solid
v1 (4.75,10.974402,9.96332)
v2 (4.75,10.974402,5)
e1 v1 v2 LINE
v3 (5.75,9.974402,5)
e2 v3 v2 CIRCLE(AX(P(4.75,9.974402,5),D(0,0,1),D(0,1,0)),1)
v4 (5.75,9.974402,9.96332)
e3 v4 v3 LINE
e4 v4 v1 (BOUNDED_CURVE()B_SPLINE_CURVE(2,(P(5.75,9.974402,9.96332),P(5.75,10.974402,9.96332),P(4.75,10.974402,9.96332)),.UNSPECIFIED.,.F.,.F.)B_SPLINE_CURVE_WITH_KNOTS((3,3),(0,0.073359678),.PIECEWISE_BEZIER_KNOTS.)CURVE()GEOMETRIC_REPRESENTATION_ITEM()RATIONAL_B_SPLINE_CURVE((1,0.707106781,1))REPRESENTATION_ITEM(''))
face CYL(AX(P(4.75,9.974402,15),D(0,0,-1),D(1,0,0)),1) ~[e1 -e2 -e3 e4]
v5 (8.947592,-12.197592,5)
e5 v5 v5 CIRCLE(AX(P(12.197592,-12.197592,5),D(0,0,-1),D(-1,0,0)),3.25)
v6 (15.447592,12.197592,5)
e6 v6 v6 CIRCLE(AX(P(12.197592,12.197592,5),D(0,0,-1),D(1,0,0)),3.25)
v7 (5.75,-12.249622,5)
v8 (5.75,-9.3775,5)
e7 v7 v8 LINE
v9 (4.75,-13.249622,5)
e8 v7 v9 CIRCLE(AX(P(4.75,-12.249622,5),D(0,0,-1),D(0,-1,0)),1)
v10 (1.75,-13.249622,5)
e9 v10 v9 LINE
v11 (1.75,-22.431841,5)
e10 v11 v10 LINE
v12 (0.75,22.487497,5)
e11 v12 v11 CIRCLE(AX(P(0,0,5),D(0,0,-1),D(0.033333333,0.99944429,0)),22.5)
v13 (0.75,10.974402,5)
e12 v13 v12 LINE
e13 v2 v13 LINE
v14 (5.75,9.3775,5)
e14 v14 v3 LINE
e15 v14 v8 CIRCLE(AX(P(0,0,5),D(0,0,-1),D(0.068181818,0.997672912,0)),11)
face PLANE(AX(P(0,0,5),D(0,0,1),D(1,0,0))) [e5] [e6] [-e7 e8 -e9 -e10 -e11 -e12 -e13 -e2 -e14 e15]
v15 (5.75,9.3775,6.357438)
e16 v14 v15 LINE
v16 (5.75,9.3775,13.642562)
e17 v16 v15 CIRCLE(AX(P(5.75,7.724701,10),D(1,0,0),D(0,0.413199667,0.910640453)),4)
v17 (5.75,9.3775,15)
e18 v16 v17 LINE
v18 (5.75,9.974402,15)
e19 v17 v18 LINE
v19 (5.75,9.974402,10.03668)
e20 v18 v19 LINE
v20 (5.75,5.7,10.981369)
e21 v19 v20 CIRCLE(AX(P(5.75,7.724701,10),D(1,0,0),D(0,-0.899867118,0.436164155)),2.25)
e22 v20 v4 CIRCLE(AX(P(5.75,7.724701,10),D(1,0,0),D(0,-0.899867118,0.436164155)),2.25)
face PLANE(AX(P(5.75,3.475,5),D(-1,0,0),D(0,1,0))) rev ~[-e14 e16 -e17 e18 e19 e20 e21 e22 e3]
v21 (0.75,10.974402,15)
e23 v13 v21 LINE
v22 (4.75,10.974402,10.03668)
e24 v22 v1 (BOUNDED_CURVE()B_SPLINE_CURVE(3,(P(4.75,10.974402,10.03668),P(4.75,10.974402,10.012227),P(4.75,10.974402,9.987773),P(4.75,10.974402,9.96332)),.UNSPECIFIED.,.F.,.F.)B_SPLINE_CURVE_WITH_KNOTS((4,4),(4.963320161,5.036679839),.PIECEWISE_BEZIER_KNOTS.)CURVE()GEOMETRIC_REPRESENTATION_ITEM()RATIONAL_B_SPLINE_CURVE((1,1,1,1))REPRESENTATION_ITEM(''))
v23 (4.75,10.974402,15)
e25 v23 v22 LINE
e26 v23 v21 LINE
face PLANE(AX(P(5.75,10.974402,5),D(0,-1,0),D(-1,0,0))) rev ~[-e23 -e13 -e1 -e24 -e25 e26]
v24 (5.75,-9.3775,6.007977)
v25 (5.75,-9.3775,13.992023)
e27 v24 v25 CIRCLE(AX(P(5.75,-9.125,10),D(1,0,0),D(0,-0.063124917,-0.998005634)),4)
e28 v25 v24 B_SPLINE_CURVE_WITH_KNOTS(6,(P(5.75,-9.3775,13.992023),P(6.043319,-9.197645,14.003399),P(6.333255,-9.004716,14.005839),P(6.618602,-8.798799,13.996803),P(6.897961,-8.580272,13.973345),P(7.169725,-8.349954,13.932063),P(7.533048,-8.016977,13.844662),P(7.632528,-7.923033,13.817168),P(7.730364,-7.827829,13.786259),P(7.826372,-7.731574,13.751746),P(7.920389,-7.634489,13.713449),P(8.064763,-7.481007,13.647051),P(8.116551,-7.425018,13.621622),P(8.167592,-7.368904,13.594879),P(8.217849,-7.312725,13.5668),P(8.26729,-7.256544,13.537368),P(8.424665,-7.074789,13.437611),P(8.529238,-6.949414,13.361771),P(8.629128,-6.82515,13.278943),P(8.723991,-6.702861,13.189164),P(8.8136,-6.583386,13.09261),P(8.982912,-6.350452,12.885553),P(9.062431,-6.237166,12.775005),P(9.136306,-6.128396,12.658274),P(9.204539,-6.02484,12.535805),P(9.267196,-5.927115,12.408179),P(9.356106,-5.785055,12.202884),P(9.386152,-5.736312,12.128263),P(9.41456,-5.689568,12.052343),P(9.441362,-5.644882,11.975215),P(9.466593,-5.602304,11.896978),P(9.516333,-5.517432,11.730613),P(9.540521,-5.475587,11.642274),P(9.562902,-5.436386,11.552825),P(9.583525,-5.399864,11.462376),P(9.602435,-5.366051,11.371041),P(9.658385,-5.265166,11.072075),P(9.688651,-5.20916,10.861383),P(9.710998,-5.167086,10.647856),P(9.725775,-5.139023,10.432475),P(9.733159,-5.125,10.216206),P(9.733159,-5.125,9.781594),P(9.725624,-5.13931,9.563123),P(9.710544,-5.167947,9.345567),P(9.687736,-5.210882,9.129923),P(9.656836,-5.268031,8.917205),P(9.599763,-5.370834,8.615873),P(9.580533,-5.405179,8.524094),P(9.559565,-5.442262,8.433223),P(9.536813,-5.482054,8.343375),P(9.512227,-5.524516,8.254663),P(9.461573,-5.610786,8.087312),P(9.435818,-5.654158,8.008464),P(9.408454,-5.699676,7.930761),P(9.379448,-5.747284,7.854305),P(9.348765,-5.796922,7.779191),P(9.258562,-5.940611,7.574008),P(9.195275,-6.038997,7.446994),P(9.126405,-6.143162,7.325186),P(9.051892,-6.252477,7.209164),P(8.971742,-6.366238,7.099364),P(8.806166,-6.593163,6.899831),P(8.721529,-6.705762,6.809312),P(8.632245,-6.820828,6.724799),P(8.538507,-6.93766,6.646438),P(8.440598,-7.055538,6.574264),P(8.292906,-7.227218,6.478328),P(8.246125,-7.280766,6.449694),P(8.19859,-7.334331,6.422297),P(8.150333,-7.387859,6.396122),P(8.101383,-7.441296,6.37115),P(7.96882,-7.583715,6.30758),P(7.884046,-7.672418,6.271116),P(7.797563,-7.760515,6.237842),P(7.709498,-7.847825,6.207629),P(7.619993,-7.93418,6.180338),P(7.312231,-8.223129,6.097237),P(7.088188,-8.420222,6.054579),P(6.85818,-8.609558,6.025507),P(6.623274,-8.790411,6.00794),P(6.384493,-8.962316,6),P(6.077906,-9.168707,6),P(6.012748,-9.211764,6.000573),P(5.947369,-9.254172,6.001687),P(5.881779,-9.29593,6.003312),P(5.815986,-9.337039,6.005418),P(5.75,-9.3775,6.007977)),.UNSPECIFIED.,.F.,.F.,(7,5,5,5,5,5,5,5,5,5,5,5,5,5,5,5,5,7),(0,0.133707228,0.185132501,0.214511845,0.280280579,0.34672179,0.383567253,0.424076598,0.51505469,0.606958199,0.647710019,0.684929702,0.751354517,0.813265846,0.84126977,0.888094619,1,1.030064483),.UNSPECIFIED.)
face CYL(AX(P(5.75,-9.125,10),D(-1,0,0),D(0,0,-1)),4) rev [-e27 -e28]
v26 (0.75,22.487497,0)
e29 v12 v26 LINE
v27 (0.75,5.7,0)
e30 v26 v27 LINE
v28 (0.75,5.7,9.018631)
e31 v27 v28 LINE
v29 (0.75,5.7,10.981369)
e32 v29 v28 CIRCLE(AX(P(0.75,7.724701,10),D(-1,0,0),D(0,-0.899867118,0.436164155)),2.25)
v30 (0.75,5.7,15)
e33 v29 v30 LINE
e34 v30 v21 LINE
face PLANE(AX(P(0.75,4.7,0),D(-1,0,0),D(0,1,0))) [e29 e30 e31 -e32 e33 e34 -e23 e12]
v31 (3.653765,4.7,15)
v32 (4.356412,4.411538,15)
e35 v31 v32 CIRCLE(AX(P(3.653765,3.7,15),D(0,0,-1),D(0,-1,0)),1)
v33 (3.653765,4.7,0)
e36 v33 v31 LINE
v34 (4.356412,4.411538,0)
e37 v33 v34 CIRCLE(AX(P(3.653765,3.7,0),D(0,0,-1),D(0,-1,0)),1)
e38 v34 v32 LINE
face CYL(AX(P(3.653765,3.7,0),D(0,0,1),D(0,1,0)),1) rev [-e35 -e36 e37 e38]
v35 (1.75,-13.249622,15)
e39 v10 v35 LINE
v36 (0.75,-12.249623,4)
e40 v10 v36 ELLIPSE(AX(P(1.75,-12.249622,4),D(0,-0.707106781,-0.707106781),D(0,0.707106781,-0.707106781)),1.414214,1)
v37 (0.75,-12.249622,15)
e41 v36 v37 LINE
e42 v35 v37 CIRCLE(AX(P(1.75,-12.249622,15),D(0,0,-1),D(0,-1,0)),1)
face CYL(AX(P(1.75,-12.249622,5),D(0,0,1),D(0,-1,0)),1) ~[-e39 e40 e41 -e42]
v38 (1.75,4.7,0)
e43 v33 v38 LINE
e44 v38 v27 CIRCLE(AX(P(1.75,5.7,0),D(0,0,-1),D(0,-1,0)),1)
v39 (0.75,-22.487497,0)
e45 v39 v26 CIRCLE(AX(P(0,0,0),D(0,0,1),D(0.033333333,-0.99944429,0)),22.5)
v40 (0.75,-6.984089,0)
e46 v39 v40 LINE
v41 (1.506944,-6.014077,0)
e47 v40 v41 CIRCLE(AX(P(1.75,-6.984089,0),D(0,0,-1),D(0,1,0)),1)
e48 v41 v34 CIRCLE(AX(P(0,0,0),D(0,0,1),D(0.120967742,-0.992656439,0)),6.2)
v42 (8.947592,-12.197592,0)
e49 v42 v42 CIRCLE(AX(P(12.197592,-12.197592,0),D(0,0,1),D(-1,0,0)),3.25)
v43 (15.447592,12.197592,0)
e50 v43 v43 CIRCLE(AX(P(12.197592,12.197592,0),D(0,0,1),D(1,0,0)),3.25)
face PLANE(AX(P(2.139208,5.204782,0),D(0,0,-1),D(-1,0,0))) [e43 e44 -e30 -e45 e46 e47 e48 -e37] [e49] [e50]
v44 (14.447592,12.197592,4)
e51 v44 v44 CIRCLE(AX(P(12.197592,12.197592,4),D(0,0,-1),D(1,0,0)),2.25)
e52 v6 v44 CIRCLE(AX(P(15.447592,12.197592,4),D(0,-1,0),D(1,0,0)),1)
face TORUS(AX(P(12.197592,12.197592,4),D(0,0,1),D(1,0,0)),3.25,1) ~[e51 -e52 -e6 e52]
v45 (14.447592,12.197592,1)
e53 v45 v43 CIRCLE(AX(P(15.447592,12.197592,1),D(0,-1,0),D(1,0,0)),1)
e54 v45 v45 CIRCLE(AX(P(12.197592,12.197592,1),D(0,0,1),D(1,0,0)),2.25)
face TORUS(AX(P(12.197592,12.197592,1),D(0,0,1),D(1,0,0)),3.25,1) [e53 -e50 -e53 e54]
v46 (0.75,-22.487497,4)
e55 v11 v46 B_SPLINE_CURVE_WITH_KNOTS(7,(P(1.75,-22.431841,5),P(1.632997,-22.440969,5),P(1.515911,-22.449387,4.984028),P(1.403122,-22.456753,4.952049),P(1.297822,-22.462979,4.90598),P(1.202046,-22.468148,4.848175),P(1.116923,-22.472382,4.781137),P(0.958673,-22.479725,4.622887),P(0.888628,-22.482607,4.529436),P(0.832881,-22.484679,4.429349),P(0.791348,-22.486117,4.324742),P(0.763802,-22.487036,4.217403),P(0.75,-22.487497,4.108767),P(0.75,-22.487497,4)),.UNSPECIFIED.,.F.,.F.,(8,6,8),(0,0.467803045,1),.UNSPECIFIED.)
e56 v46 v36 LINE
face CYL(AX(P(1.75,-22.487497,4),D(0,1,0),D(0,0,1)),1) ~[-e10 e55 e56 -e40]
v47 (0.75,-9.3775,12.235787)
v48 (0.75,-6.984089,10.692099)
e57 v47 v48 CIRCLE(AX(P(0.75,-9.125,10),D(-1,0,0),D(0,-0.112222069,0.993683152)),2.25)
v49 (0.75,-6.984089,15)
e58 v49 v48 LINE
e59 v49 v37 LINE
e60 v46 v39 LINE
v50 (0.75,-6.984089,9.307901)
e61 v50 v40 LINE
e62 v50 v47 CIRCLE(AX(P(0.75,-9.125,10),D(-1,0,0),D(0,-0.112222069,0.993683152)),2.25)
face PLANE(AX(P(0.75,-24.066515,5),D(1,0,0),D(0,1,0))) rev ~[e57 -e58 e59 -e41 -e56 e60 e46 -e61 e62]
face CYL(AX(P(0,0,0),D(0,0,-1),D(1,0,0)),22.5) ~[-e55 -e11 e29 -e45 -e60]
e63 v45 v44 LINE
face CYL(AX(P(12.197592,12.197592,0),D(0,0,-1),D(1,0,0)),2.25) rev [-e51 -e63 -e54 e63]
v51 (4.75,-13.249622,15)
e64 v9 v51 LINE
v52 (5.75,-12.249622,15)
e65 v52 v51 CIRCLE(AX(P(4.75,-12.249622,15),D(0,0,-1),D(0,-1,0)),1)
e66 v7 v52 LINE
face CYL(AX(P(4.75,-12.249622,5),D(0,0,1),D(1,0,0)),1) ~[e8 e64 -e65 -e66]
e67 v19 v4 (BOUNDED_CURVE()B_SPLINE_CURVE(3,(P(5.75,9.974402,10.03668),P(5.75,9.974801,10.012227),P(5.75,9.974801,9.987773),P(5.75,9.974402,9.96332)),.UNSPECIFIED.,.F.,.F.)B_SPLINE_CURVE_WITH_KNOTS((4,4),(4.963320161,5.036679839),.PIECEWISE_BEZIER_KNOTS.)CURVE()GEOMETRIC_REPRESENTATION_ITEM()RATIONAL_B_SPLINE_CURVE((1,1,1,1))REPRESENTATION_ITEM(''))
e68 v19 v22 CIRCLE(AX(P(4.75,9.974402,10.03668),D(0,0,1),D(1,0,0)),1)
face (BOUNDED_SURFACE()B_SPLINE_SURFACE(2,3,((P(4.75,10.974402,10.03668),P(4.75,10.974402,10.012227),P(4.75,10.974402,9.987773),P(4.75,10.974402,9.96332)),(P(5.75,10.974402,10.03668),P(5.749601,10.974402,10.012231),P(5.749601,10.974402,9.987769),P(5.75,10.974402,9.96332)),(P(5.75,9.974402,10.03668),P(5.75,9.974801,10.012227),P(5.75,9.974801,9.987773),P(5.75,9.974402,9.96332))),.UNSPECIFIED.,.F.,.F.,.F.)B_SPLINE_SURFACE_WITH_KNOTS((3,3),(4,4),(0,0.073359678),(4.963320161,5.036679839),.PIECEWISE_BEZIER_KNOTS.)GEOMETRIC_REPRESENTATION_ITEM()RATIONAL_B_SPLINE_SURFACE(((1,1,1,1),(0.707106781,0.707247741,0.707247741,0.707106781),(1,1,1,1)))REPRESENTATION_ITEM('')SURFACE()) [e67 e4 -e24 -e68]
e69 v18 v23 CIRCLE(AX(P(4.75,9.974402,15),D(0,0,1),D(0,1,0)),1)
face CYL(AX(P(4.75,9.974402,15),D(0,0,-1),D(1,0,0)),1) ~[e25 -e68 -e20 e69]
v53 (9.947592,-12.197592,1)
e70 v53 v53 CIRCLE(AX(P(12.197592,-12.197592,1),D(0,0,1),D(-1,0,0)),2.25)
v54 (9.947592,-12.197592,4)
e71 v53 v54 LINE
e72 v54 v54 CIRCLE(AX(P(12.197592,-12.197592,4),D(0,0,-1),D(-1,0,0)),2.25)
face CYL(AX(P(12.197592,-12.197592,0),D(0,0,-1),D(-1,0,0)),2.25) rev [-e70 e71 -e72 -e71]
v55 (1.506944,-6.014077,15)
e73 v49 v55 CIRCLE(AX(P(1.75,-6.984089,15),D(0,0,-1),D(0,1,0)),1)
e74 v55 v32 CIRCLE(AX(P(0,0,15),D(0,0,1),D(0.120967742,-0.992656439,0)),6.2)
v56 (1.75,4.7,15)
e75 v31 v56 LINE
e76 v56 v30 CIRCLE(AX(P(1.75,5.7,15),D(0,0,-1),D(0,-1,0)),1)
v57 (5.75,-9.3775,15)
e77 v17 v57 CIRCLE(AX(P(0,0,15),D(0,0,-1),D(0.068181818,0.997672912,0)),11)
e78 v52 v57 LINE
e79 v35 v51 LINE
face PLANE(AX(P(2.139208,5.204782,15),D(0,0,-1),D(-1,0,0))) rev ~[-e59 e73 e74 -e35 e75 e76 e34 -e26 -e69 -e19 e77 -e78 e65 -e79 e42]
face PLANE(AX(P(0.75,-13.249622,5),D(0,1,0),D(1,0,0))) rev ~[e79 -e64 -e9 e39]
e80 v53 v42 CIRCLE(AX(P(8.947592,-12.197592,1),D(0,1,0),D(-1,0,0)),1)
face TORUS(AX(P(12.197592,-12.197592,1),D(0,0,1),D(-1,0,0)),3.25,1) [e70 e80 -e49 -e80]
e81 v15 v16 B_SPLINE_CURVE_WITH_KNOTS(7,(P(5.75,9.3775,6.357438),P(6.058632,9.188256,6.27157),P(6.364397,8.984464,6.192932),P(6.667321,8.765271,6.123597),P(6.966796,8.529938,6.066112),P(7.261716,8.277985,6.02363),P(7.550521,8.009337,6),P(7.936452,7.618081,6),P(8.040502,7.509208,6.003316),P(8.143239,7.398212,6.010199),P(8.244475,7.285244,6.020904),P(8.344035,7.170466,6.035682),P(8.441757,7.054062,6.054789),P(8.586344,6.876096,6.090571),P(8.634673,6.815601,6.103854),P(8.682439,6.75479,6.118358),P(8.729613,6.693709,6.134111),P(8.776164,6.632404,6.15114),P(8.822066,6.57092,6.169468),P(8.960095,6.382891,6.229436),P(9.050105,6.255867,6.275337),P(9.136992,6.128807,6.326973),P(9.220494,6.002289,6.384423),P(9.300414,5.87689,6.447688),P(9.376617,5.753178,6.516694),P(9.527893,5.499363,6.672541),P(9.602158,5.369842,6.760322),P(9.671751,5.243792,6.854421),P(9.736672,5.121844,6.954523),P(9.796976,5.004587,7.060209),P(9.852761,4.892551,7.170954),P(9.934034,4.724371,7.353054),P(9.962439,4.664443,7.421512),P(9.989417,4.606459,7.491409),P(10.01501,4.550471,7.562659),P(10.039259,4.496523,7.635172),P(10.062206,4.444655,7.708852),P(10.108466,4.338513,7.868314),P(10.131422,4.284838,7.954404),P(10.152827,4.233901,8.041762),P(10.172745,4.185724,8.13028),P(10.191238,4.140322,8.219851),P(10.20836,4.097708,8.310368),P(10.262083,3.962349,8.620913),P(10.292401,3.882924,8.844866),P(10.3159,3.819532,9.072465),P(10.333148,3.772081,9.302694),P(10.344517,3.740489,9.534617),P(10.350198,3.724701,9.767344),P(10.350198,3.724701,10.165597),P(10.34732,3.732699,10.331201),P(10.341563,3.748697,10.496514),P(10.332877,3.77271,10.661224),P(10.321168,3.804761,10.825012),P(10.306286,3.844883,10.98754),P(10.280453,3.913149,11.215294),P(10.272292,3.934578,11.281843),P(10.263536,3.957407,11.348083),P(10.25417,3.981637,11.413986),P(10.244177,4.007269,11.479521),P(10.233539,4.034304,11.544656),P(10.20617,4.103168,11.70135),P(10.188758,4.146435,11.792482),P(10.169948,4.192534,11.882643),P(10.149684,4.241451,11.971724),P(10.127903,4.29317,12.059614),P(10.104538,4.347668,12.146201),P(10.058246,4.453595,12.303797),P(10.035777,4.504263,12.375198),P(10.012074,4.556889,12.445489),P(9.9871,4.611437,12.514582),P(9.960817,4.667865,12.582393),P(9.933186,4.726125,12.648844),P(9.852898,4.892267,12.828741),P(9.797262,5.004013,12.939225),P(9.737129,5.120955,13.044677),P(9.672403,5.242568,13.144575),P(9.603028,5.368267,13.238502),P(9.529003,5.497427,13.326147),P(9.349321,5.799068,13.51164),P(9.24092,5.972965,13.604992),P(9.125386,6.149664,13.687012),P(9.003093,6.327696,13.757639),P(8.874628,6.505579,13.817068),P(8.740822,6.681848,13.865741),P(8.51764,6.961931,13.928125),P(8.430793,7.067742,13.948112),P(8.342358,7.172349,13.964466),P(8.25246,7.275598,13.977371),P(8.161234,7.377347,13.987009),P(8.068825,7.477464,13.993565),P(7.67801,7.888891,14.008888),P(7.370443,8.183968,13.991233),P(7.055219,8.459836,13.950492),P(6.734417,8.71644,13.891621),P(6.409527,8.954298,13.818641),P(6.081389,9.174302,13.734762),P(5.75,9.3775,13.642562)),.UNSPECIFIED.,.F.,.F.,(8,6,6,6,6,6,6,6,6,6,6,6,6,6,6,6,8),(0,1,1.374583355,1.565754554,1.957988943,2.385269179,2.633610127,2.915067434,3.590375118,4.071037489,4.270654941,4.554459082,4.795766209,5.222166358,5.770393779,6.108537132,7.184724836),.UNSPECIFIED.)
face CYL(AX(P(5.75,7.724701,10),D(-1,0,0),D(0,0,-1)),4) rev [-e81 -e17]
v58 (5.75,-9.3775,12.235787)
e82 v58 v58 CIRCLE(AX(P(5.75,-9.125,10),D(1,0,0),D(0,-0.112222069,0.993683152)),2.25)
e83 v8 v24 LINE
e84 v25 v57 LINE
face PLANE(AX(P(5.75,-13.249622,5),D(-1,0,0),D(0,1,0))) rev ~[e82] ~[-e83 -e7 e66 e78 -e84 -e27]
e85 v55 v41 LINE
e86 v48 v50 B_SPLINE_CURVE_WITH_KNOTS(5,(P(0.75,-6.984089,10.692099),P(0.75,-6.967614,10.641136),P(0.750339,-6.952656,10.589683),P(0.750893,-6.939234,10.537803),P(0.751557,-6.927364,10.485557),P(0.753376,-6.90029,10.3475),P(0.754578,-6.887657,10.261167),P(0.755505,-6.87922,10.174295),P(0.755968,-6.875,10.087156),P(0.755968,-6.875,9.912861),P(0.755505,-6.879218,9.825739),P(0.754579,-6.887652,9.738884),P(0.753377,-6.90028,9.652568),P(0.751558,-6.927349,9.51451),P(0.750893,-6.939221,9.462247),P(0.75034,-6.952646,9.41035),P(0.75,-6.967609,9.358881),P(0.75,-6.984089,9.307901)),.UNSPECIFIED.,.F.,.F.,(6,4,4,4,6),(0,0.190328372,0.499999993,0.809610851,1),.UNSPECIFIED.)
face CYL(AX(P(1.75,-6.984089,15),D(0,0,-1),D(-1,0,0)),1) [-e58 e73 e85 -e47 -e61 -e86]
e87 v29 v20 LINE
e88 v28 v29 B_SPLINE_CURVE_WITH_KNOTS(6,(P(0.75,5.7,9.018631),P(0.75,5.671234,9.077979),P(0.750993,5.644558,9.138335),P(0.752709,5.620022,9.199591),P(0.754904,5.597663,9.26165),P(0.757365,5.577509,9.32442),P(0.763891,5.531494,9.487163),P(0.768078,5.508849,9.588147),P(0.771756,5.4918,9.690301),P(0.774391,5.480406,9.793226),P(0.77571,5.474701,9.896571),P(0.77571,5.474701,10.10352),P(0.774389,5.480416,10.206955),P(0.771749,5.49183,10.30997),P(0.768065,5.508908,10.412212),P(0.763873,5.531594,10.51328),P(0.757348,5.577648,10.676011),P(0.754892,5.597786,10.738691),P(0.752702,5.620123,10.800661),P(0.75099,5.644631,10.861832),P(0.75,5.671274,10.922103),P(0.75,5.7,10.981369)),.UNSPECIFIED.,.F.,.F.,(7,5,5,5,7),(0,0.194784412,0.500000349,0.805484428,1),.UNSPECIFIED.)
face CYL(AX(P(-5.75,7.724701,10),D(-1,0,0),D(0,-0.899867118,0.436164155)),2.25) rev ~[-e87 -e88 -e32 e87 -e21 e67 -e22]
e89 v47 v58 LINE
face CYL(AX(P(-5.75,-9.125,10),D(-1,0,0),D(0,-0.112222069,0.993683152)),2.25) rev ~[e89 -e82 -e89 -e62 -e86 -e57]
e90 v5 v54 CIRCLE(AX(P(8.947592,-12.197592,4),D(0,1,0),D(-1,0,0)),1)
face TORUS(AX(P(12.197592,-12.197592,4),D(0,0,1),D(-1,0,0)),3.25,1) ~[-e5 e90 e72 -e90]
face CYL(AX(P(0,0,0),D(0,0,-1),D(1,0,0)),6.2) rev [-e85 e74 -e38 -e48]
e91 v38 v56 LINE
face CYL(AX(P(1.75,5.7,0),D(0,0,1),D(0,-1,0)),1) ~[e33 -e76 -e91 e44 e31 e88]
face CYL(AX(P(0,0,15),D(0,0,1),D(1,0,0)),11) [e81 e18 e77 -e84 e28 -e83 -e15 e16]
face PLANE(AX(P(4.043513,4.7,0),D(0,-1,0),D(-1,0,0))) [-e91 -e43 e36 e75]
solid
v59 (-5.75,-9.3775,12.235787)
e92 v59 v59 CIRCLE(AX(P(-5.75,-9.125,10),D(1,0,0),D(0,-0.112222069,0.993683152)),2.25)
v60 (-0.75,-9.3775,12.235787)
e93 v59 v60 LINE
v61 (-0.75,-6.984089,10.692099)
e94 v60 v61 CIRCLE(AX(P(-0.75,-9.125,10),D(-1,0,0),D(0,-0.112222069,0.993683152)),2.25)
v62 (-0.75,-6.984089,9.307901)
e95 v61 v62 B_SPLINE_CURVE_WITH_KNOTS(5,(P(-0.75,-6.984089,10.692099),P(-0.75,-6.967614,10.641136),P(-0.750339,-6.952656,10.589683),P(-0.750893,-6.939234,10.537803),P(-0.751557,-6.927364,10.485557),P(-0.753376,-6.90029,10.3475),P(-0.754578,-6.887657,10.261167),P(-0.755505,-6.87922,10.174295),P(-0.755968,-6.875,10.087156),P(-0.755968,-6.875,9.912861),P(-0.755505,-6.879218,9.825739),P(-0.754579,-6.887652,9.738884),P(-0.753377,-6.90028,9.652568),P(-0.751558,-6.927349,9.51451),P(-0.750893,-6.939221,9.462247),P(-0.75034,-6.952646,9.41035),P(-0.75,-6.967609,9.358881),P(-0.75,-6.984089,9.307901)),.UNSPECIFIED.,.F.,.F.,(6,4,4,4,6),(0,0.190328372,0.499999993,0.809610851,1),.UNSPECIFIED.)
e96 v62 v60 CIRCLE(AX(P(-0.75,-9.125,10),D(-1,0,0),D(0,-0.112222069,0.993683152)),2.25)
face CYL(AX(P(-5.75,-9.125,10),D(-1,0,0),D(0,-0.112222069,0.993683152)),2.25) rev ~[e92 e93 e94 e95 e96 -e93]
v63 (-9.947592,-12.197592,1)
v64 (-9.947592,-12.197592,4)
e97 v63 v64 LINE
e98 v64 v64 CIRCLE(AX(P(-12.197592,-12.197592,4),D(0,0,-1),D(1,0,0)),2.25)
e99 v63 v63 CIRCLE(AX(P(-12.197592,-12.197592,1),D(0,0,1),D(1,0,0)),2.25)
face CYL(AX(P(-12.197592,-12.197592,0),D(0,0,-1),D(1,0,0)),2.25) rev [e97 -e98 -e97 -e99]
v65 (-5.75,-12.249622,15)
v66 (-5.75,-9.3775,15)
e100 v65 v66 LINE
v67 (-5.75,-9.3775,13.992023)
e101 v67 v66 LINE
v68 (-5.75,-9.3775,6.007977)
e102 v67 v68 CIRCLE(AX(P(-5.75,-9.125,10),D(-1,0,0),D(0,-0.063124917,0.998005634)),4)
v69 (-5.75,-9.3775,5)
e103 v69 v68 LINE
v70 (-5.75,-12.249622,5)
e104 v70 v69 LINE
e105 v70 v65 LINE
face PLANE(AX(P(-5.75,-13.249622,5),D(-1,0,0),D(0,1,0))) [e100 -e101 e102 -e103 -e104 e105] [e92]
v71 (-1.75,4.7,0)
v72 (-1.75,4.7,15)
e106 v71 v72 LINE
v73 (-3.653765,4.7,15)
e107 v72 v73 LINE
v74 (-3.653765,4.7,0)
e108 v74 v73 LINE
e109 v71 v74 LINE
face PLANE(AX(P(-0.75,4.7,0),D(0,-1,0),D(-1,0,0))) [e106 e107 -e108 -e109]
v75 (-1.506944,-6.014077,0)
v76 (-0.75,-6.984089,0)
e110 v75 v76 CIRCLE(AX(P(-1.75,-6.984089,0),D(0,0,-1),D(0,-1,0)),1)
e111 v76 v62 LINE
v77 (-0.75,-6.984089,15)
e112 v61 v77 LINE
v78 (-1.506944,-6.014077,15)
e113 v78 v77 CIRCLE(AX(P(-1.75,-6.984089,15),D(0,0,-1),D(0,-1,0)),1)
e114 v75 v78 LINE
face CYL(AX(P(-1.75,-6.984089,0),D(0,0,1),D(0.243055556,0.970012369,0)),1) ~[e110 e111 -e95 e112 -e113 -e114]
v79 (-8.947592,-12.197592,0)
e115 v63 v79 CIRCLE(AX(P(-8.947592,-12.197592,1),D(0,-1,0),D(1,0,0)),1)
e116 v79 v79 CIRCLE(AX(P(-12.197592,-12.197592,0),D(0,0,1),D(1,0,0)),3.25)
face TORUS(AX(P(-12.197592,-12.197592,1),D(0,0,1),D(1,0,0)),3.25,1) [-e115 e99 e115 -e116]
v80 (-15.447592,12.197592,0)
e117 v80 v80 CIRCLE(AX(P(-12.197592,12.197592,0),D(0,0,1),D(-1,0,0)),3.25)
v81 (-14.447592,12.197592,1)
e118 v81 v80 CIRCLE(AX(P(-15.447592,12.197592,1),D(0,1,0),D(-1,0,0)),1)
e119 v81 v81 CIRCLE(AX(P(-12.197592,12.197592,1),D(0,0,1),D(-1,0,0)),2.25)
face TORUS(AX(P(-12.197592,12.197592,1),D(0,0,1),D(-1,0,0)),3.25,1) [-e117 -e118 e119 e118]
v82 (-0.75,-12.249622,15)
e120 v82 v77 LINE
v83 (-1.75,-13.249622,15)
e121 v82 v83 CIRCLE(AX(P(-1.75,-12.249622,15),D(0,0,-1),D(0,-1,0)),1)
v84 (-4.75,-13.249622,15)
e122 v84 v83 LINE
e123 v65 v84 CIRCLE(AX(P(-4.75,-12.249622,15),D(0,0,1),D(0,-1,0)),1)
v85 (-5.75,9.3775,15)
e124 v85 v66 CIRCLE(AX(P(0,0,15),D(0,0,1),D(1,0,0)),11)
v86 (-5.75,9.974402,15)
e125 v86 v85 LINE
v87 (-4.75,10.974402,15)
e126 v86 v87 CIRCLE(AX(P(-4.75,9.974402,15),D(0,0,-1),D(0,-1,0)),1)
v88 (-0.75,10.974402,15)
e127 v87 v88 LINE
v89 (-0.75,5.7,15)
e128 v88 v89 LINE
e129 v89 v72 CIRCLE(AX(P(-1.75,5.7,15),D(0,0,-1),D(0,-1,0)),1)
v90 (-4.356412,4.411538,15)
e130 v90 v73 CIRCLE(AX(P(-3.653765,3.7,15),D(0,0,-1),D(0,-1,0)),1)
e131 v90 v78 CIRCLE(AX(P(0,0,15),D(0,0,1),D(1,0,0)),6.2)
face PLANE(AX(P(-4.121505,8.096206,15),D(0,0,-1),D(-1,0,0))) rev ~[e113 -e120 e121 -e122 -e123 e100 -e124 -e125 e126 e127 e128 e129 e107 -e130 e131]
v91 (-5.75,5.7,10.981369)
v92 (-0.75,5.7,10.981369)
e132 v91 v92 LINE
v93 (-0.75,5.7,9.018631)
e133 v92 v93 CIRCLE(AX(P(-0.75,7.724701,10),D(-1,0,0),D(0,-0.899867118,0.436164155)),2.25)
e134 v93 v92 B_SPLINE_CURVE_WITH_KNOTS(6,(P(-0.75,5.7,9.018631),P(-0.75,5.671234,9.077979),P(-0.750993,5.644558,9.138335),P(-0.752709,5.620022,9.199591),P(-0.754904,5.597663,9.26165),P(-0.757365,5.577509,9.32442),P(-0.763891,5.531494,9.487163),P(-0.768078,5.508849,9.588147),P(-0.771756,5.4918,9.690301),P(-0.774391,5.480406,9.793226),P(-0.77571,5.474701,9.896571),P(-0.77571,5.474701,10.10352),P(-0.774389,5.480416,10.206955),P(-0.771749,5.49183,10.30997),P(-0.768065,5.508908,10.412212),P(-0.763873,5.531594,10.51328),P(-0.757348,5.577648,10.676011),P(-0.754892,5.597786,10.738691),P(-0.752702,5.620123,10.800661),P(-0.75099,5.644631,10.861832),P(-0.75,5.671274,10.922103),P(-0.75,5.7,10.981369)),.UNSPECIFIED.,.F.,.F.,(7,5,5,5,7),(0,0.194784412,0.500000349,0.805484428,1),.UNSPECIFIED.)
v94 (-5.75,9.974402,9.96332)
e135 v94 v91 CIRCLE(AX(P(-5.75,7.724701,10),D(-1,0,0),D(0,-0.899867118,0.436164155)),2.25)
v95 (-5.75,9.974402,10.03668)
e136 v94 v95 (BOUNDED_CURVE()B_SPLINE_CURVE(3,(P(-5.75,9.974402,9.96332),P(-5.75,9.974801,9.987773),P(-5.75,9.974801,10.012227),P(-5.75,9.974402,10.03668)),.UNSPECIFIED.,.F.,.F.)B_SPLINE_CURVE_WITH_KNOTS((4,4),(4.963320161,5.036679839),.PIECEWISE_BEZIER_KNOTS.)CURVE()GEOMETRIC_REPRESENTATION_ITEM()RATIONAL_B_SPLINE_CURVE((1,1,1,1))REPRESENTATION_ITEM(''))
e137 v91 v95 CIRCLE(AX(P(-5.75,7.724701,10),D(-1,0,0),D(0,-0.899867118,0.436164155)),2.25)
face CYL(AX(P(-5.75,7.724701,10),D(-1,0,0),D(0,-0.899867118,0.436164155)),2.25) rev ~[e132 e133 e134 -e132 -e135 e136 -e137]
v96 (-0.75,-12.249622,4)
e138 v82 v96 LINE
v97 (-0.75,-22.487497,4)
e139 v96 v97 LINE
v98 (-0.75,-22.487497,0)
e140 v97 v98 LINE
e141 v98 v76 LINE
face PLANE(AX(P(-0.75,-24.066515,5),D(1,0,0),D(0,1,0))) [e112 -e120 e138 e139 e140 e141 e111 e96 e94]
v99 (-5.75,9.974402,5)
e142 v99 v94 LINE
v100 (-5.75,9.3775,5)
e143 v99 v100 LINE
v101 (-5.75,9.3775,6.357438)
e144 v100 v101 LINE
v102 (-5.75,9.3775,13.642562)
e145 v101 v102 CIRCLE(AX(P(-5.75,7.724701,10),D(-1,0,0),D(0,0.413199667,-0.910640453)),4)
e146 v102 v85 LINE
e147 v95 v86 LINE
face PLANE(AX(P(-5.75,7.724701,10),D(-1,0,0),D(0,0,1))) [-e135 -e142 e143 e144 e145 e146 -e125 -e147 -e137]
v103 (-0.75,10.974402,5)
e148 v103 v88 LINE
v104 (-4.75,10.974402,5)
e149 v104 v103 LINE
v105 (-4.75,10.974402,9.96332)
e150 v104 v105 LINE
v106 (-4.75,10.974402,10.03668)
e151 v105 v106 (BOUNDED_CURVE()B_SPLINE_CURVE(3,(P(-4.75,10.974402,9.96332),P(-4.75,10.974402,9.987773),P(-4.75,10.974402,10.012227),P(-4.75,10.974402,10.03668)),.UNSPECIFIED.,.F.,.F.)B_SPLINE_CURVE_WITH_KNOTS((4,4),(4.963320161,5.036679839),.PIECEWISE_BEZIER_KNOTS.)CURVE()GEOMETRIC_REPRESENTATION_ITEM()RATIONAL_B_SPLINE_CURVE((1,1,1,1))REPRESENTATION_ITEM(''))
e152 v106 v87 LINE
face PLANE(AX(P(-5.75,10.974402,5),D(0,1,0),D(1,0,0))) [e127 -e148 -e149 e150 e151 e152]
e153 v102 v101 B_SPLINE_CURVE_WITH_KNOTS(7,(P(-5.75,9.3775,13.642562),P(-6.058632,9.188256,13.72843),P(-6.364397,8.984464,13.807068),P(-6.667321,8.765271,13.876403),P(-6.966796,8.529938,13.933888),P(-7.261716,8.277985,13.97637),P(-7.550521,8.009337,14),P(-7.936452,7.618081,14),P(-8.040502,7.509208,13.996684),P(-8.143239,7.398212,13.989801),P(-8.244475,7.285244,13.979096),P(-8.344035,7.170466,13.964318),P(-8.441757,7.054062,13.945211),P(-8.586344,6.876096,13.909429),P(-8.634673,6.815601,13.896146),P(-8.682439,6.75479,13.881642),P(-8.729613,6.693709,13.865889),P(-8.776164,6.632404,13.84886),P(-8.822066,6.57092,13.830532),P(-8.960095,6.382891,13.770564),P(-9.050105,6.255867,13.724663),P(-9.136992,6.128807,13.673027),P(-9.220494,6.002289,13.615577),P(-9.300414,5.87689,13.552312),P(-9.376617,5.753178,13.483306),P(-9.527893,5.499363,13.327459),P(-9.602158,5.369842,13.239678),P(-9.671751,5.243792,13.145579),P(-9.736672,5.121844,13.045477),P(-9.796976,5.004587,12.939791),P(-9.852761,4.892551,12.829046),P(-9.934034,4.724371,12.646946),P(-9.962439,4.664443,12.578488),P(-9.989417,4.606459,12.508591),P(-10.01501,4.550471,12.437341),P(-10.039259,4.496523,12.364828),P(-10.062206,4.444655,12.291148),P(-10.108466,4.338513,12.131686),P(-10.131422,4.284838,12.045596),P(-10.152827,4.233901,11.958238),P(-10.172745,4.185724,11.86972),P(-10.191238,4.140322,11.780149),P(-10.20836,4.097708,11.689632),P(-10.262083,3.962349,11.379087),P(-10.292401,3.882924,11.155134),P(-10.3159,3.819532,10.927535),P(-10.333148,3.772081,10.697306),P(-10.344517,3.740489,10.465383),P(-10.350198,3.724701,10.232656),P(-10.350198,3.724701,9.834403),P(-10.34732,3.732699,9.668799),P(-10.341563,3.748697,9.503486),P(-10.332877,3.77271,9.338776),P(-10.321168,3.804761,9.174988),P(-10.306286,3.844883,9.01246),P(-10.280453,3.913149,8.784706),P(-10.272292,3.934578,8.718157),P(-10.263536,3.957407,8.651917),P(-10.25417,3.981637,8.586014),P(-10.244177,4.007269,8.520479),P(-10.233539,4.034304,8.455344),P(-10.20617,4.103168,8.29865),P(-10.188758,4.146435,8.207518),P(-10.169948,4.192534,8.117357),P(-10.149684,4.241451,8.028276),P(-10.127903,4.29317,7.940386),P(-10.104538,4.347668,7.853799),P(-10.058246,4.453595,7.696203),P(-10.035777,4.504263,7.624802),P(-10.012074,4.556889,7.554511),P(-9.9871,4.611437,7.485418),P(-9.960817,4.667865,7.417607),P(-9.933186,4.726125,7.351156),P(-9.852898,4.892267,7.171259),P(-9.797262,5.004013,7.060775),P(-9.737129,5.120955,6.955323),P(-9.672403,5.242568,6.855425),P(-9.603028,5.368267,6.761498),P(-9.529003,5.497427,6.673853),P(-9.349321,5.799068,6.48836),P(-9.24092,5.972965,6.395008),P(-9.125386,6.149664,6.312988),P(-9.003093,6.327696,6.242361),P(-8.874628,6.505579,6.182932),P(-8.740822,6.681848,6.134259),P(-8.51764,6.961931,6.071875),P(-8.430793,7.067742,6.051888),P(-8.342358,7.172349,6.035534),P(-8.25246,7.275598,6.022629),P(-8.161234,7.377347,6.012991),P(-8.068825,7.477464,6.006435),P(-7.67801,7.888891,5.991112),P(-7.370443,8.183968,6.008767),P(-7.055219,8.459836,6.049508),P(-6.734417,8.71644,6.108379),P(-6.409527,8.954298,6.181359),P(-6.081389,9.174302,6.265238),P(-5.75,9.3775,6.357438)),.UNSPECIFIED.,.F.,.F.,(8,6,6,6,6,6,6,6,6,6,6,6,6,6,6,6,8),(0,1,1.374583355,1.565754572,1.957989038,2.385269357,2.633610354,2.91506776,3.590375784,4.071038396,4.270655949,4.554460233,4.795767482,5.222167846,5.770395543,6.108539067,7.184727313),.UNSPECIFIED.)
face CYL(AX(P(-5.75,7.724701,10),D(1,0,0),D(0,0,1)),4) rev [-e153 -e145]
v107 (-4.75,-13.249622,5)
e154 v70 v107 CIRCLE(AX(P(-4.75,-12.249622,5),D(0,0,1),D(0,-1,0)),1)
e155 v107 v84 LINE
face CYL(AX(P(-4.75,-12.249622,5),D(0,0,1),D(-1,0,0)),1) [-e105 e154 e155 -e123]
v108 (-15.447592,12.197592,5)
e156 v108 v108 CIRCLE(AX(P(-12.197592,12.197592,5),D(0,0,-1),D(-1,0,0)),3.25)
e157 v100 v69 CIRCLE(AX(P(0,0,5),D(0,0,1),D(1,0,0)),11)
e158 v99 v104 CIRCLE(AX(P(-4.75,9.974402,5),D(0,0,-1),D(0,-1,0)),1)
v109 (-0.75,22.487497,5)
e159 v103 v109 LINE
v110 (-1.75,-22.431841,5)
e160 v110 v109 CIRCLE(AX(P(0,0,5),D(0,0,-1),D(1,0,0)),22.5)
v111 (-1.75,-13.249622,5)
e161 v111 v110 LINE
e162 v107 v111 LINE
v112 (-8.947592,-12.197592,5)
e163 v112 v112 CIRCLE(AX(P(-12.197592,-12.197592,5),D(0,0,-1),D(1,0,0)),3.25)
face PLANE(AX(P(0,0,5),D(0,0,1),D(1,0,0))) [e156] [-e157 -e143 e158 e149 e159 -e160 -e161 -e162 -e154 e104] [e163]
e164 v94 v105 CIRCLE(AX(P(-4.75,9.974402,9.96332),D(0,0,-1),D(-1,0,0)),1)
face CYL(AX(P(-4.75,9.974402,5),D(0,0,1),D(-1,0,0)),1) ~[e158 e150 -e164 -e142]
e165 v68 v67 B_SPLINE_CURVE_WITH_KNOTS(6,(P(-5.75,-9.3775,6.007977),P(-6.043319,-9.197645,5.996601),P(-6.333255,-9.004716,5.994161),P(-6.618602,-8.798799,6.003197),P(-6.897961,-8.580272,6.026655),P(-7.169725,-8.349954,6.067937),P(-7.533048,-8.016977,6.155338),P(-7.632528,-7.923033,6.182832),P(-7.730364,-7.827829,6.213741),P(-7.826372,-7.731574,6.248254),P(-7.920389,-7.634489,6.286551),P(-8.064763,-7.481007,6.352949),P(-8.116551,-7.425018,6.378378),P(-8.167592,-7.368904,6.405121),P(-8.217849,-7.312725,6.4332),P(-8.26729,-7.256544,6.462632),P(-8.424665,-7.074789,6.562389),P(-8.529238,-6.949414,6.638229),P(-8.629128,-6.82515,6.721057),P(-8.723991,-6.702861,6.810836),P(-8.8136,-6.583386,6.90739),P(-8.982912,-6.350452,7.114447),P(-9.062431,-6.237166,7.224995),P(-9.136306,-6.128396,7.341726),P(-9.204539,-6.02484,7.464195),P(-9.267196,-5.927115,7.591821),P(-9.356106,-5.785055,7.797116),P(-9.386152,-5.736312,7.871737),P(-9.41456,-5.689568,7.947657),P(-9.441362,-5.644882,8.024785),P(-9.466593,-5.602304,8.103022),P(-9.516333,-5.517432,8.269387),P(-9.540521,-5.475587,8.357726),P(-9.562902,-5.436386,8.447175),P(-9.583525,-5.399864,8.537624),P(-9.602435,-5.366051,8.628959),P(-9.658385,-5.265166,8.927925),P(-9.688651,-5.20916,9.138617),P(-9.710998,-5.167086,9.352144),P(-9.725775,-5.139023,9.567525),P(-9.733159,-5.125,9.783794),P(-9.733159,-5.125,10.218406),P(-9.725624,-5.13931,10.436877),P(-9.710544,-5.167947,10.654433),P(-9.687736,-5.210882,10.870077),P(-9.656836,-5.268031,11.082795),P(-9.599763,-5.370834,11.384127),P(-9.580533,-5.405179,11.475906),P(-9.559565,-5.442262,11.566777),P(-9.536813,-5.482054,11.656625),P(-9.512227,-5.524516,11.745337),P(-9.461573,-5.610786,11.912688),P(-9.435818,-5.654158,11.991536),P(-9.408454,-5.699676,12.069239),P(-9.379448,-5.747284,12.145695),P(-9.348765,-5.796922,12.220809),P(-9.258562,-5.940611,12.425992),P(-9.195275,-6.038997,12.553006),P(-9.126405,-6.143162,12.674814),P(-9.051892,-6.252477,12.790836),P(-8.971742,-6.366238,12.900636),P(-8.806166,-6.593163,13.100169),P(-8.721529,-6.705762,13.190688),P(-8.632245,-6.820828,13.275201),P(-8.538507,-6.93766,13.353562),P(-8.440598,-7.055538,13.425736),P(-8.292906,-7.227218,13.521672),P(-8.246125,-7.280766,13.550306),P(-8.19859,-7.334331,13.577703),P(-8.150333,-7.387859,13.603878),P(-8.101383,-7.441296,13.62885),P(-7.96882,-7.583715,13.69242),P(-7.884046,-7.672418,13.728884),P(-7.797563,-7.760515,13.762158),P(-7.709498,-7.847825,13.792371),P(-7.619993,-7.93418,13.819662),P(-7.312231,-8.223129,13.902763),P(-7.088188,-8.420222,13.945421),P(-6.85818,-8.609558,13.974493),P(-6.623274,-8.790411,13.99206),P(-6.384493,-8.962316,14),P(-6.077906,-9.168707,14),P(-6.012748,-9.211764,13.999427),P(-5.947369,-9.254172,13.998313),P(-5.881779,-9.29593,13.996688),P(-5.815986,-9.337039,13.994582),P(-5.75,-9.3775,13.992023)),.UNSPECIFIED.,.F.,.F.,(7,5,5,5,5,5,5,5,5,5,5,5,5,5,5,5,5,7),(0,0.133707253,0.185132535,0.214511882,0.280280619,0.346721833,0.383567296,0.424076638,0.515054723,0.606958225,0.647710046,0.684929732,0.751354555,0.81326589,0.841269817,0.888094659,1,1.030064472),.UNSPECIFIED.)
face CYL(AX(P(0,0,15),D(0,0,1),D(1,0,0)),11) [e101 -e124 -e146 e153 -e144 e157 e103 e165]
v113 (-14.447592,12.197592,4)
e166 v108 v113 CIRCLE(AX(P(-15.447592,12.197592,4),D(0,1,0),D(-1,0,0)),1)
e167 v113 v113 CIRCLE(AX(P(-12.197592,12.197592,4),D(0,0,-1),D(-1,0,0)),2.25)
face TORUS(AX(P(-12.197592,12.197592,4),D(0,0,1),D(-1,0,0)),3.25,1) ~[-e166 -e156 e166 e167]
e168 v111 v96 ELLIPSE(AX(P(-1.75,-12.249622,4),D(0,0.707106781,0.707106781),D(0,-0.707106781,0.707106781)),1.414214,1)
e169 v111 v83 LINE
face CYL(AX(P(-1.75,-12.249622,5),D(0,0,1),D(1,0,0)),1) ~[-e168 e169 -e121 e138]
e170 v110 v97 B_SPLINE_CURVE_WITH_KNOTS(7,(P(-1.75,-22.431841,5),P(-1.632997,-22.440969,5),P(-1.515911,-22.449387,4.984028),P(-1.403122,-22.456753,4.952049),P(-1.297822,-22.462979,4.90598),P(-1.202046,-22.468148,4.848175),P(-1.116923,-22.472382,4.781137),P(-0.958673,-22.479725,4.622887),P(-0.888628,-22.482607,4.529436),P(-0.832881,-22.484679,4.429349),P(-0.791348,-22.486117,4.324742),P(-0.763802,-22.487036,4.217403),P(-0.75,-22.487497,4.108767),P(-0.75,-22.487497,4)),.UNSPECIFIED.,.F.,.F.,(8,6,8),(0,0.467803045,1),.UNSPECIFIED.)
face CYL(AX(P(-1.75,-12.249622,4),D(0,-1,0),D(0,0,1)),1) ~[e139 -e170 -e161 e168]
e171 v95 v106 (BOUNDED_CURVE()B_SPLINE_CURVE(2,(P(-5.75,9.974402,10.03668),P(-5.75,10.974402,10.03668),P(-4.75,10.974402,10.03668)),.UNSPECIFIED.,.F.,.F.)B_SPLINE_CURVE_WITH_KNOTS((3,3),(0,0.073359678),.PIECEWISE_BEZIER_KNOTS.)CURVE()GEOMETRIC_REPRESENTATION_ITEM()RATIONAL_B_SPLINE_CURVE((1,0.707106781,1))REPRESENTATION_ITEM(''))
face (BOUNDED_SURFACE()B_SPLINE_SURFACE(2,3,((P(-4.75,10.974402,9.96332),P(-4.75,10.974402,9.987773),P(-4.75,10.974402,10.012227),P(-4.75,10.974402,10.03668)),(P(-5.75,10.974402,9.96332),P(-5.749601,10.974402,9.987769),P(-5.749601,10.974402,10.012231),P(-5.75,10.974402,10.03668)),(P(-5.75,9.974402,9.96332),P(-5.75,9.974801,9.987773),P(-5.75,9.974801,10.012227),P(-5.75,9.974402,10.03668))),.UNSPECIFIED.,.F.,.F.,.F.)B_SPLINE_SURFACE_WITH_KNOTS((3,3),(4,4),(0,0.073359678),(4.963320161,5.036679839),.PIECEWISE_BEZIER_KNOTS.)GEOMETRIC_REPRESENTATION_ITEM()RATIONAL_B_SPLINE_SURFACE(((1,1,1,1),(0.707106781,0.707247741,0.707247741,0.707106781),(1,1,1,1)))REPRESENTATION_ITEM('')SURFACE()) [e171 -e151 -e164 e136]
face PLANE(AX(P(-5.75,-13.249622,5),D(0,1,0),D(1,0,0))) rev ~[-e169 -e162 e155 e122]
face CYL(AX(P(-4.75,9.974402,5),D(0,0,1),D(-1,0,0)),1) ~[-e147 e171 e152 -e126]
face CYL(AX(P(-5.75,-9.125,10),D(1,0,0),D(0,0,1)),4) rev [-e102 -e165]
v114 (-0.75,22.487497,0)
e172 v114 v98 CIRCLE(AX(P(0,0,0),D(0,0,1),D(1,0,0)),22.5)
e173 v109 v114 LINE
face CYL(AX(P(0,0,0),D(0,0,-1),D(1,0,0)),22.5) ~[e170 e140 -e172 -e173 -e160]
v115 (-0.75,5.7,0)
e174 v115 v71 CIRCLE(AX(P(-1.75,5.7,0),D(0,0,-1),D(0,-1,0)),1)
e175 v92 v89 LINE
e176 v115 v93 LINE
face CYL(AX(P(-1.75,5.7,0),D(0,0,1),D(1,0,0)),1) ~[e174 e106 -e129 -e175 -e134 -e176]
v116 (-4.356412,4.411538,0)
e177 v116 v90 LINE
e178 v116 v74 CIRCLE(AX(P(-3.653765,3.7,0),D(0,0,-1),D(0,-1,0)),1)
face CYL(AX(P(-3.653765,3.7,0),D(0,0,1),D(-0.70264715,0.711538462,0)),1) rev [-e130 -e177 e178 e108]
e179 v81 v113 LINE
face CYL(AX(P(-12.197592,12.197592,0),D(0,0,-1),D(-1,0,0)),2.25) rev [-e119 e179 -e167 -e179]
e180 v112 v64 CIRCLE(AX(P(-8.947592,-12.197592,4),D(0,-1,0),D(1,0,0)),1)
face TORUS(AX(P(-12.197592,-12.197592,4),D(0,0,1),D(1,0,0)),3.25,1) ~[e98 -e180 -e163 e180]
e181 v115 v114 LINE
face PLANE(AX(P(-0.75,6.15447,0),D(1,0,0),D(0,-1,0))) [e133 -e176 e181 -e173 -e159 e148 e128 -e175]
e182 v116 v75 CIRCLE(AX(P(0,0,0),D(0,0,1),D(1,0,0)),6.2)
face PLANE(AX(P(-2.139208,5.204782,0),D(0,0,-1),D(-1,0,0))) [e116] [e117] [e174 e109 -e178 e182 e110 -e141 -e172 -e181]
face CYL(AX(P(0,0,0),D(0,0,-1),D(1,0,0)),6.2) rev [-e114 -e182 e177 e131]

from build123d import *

# Parameters (mm, degrees)
SKETCH1_R               = 22.5
SKETCH1_R_2             = 6.2
SKETCH1_R_3             = 2.25
BOSS_EXTRUDE1_DEPTH     = 15
SKETCH2_OUTSIDE_W       = 60.076
SKETCH2_OUTSIDE_H       = 60.076
SKETCH2_OUTSIDE_R       = 11
CUT_EXTRUDE1_DEPTH      = 10
SKETCH4_W               = 1.5
SKETCH4_H               = 48.13303
CUT_EXTRUDE2_DEPTH      = 34.35416
CUT_EXTRUDE2_DEPTH_BACK = 34.35416
BOSS_EXTRUDE7_DEPTH     = 15
SKETCH16_W              = 5
SKETCH16_H              = 5
BOSS_EXTRUDE9_DEPTH     = 10
FILLET1_R               = 1
FILLET2_R               = 1
FILLET14_R              = 1
FILLET19_R              = 1
FILLET20_R              = 1
FILLET21_R              = 1
FILLET22_R              = 1
FILLET25_R              = 1
FILLET26_R              = 1
FILLET27_R              = 1
FILLET33_R              = 1
FILLET35_R              = 1
FILLET36_R              = 1
FILLET37_R              = 1
SKETCH17_R              = 2.25
CUT_EXTRUDE3_DEPTH      = 40.099233
CUT_EXTRUDE3_DEPTH_BACK = 40.099233
SKETCH20_R              = 4
CUT_EXTRUDE9_DEPTH      = 40.099233
SKETCH21_R              = 4
CUT_EXTRUDE10_DEPTH     = 40.099233
FILLET38_R              = 1
FILLET39_R              = 1


with BuildPart() as part:
    # Sketch1 → Boss-Extrude1 (new body)
    with BuildSketch(Plane.XY):
        Circle(SKETCH1_R)
        Circle(SKETCH1_R_2, mode=Mode.SUBTRACT)
        with Locations((12.197592, 12.197592)):
            Circle(SKETCH1_R_3, mode=Mode.SUBTRACT)
        with Locations(Location((-12.197592, 12.197592, 0), (0, 0, 180))):
            Circle(SKETCH1_R_3, mode=Mode.SUBTRACT)
        with Locations(Location((12.197592, -12.197592, 0), (0, 0, 180))):
            Circle(SKETCH1_R_3, mode=Mode.SUBTRACT)
        with Locations((-12.197592, -12.197592)):
            Circle(SKETCH1_R_3, mode=Mode.SUBTRACT)
    extrude(amount=BOSS_EXTRUDE1_DEPTH)

    # Sketch2 outside → Cut-Extrude1 (cut)
    with BuildSketch(Plane.XY.offset(15)):
        Rectangle(SKETCH2_OUTSIDE_W, SKETCH2_OUTSIDE_H)
        Circle(SKETCH2_OUTSIDE_R, mode=Mode.SUBTRACT)
    extrude(amount=-CUT_EXTRUDE1_DEPTH, mode=Mode.SUBTRACT)

    # Sketch4 → Cut-Extrude2 (cut, two sides)
    with BuildSketch(Plane.XY.offset(5)) as cut_extrude2_sk:
        Rectangle(SKETCH4_W, SKETCH4_H)
    extrude(amount=CUT_EXTRUDE2_DEPTH, mode=Mode.SUBTRACT)
    extrude(cut_extrude2_sk.sketch, amount=-CUT_EXTRUDE2_DEPTH_BACK, mode=Mode.SUBTRACT)


with BuildPart() as cut_extrude2_piece_1:
    # of the separate pieces the step leaves, piece 1, a body of its own (cut_extrude2_pieces)
    add(part.part.solids().sort_by_distance((0.75, 22.487497, 5))[0])



with BuildPart() as cut_extrude2_piece_2:
    # of the separate pieces the step leaves, piece 2, a body of its own (cut_extrude2_pieces)
    add(part.part.solids().sort_by_distance((-0.75, 22.487497, 0))[0])


with BuildPart() as cut_extrude2_piece_1_1:
    add(cut_extrude2_piece_1.part)

    add(cut_extrude2_piece_2.part)  # Boss-Extrude7 merges Cut-Extrude2 piece 2
    # Sketch9 → Boss-Extrude7 (add)
    with BuildSketch(Plane(origin=(0, 0, 0), x_dir=(-1, 0, 0), z_dir=(0, 0, -1))):
        with BuildLine():
            ThreePointArc((-0.75, 6.15447), (-2.504658, 5.671568), (-4.043513, 4.7))
            Line((-4.043513, 4.7), (-0.75, 4.7))
            Line((-0.75, 4.7), (-0.75, 6.15447))
        make_face()
        with BuildLine():
            Line((0.75, 4.7), (4.043513, 4.7))
            ThreePointArc((4.043513, 4.7), (2.504658, 5.671568), (0.75, 6.15447))
            Line((0.75, 6.15447), (0.75, 4.7))
        make_face()
    extrude(amount=-BOSS_EXTRUDE7_DEPTH)

    # Sketch16 → Boss-Extrude9 (add)
    with BuildSketch(Plane.XY.offset(5)):
        Polygon((5.75, 3.475), (5.75, 10), (5.75, 10.974402), (0.75, 10.974402), align=None)
        Polygon((-5.75, 3.475), (-5.75, 10.02714), (-5.75, 10.974402), (-0.75, 10.974402), align=None)
        with Locations((-3.25, -10.749622)):
            Rectangle(SKETCH16_W, SKETCH16_H)
        with Locations((3.25, -10.749622)):
            Rectangle(SKETCH16_W, SKETCH16_H)
    extrude(amount=BOSS_EXTRUDE9_DEPTH)

    # Fillet1
    fillet1_edges = [cut_extrude2_piece_1_1.edges().sort_by_distance(p)[0] for p in [
        (-4.043513, 4.7, 7.5),
    ]]
    fillet(fillet1_edges, radius=FILLET1_R)

    # Fillet2
    fillet2_edges = [cut_extrude2_piece_1_1.edges().sort_by_distance(p)[0] for p in [
        (4.043513, 4.7, 7.5),
    ]]
    fillet(fillet2_edges, radius=FILLET2_R)

    # Fillet14
    fillet14_edges = [cut_extrude2_piece_1_1.edges().sort_by_distance(p)[0] for p in [
        (-0.75, -6.15447, 7.5),
    ]]
    fillet(fillet14_edges, radius=FILLET14_R)

    # Fillet19
    fillet19_edges = [cut_extrude2_piece_1_1.edges().sort_by_distance(p)[0] for p in [
        (-0.75, -13.249622, 10),
    ]]
    fillet(fillet19_edges, radius=FILLET19_R)

    # Fillet20
    fillet20_edges = [cut_extrude2_piece_1_1.edges().sort_by_distance(p)[0] for p in [
        (0.75, -13.249622, 10),
    ]]
    fillet(fillet20_edges, radius=FILLET20_R)

    # Fillet21
    fillet21_edges = [cut_extrude2_piece_1_1.edges().sort_by_distance(p)[0] for p in [
        (-0.75, -17.368559, 5),
    ]]
    fillet(fillet21_edges, radius=FILLET21_R)

    # Fillet22
    fillet22_edges = [cut_extrude2_piece_1_1.edges().sort_by_distance(p)[0] for p in [
        (0.75, -17.368559, 5),
    ]]
    fillet(fillet22_edges, radius=FILLET22_R)

    # Fillet25
    fillet25_edges = [cut_extrude2_piece_1_1.edges().sort_by_distance(p)[0] for p in [
        (-9.947592, 12.197592, 0),
        (-9.947592, 12.197592, 5),
    ]]
    fillet(fillet25_edges, radius=FILLET25_R)

    # Fillet26
    fillet26_edges = [cut_extrude2_piece_1_1.edges().sort_by_distance(p)[0] for p in [
        (9.947592, 12.197592, 5),
        (9.947592, 12.197592, 0),
    ]]
    fillet(fillet26_edges, radius=FILLET26_R)

    # Fillet27
    fillet27_edges = [cut_extrude2_piece_1_1.edges().sort_by_distance(p)[0] for p in [
        (14.447592, -12.197592, 0),
        (14.447592, -12.197592, 5),
    ]]
    fillet(fillet27_edges, radius=FILLET27_R)

    # Fillet33
    fillet33_edges = [cut_extrude2_piece_1_1.edges().sort_by_distance(p)[0] for p in [
        (-14.447592, -12.197592, 0),
        (-14.447592, -12.197592, 5),
    ]]
    fillet(fillet33_edges, radius=FILLET33_R)

    # Fillet35
    fillet35_edges = [cut_extrude2_piece_1_1.edges().sort_by_distance(p)[0] for p in [
        (0.75, -6.15447, 7.5),
    ]]
    fillet(fillet35_edges, radius=FILLET35_R)

    # Fillet36
    fillet36_edges = [cut_extrude2_piece_1_1.edges().sort_by_distance(p)[0] for p in [
        (-0.75, 4.7, 7.5),
    ]]
    fillet(fillet36_edges, radius=FILLET36_R)

    # Fillet37
    fillet37_edges = [cut_extrude2_piece_1_1.edges().sort_by_distance(p)[0] for p in [
        (0.75, 4.7, 7.5),
    ]]
    fillet(fillet37_edges, radius=FILLET37_R)

    # Sketch17 → Cut-Extrude3 (cut, two sides)
    with BuildSketch(Plane.ZY.offset(5.75)) as cut_extrude3_sk:
        with Locations(Location((10, 7.724701, 0), (0, 0, 295.859394))):
            Circle(SKETCH17_R)
        with Locations(Location((10, -9.125, 0), (0, 0, 353.556576))):
            Circle(SKETCH17_R)
    extrude(amount=CUT_EXTRUDE3_DEPTH, mode=Mode.SUBTRACT)
    extrude(cut_extrude3_sk.sketch, amount=-CUT_EXTRUDE3_DEPTH_BACK, mode=Mode.SUBTRACT)

    # Sketch20 → Cut-Extrude9 (cut, through all)
    with BuildSketch(Plane.ZY.offset(5.75)):
        with Locations((10, -9.125)):
            Circle(SKETCH20_R)
        with Locations((10, 7.724701)):
            Circle(SKETCH20_R)
    extrude(amount=CUT_EXTRUDE9_DEPTH, mode=Mode.SUBTRACT)

    # Sketch21 → Cut-Extrude10 (cut, through all)
    with BuildSketch(Plane(origin=(5.75, 0, 0), x_dir=(0, 0, -1), z_dir=(1, 0, 0))):
        with Locations((-10, 7.724701)):
            Circle(SKETCH21_R)
        with Locations((-10, -9.125)):
            Circle(SKETCH21_R)
    extrude(amount=CUT_EXTRUDE10_DEPTH, mode=Mode.SUBTRACT)

    # Fillet38
    fillet38_edges = [cut_extrude2_piece_1_1.edges().sort_by_distance(p)[0] for p in [
        (-5.75, 10.974402, 10),
        (-5.75, -13.249622, 10),
    ]]
    fillet(fillet38_edges, radius=FILLET38_R)

    # Fillet39
    fillet39_edges = [cut_extrude2_piece_1_1.edges().sort_by_distance(p)[0] for p in [
        (5.75, 10.974402, 10),
        (5.75, -13.249622, 10),
    ]]
    fillet(fillet39_edges, radius=FILLET39_R)


solid = cut_extrude2_piece_1_1.part
